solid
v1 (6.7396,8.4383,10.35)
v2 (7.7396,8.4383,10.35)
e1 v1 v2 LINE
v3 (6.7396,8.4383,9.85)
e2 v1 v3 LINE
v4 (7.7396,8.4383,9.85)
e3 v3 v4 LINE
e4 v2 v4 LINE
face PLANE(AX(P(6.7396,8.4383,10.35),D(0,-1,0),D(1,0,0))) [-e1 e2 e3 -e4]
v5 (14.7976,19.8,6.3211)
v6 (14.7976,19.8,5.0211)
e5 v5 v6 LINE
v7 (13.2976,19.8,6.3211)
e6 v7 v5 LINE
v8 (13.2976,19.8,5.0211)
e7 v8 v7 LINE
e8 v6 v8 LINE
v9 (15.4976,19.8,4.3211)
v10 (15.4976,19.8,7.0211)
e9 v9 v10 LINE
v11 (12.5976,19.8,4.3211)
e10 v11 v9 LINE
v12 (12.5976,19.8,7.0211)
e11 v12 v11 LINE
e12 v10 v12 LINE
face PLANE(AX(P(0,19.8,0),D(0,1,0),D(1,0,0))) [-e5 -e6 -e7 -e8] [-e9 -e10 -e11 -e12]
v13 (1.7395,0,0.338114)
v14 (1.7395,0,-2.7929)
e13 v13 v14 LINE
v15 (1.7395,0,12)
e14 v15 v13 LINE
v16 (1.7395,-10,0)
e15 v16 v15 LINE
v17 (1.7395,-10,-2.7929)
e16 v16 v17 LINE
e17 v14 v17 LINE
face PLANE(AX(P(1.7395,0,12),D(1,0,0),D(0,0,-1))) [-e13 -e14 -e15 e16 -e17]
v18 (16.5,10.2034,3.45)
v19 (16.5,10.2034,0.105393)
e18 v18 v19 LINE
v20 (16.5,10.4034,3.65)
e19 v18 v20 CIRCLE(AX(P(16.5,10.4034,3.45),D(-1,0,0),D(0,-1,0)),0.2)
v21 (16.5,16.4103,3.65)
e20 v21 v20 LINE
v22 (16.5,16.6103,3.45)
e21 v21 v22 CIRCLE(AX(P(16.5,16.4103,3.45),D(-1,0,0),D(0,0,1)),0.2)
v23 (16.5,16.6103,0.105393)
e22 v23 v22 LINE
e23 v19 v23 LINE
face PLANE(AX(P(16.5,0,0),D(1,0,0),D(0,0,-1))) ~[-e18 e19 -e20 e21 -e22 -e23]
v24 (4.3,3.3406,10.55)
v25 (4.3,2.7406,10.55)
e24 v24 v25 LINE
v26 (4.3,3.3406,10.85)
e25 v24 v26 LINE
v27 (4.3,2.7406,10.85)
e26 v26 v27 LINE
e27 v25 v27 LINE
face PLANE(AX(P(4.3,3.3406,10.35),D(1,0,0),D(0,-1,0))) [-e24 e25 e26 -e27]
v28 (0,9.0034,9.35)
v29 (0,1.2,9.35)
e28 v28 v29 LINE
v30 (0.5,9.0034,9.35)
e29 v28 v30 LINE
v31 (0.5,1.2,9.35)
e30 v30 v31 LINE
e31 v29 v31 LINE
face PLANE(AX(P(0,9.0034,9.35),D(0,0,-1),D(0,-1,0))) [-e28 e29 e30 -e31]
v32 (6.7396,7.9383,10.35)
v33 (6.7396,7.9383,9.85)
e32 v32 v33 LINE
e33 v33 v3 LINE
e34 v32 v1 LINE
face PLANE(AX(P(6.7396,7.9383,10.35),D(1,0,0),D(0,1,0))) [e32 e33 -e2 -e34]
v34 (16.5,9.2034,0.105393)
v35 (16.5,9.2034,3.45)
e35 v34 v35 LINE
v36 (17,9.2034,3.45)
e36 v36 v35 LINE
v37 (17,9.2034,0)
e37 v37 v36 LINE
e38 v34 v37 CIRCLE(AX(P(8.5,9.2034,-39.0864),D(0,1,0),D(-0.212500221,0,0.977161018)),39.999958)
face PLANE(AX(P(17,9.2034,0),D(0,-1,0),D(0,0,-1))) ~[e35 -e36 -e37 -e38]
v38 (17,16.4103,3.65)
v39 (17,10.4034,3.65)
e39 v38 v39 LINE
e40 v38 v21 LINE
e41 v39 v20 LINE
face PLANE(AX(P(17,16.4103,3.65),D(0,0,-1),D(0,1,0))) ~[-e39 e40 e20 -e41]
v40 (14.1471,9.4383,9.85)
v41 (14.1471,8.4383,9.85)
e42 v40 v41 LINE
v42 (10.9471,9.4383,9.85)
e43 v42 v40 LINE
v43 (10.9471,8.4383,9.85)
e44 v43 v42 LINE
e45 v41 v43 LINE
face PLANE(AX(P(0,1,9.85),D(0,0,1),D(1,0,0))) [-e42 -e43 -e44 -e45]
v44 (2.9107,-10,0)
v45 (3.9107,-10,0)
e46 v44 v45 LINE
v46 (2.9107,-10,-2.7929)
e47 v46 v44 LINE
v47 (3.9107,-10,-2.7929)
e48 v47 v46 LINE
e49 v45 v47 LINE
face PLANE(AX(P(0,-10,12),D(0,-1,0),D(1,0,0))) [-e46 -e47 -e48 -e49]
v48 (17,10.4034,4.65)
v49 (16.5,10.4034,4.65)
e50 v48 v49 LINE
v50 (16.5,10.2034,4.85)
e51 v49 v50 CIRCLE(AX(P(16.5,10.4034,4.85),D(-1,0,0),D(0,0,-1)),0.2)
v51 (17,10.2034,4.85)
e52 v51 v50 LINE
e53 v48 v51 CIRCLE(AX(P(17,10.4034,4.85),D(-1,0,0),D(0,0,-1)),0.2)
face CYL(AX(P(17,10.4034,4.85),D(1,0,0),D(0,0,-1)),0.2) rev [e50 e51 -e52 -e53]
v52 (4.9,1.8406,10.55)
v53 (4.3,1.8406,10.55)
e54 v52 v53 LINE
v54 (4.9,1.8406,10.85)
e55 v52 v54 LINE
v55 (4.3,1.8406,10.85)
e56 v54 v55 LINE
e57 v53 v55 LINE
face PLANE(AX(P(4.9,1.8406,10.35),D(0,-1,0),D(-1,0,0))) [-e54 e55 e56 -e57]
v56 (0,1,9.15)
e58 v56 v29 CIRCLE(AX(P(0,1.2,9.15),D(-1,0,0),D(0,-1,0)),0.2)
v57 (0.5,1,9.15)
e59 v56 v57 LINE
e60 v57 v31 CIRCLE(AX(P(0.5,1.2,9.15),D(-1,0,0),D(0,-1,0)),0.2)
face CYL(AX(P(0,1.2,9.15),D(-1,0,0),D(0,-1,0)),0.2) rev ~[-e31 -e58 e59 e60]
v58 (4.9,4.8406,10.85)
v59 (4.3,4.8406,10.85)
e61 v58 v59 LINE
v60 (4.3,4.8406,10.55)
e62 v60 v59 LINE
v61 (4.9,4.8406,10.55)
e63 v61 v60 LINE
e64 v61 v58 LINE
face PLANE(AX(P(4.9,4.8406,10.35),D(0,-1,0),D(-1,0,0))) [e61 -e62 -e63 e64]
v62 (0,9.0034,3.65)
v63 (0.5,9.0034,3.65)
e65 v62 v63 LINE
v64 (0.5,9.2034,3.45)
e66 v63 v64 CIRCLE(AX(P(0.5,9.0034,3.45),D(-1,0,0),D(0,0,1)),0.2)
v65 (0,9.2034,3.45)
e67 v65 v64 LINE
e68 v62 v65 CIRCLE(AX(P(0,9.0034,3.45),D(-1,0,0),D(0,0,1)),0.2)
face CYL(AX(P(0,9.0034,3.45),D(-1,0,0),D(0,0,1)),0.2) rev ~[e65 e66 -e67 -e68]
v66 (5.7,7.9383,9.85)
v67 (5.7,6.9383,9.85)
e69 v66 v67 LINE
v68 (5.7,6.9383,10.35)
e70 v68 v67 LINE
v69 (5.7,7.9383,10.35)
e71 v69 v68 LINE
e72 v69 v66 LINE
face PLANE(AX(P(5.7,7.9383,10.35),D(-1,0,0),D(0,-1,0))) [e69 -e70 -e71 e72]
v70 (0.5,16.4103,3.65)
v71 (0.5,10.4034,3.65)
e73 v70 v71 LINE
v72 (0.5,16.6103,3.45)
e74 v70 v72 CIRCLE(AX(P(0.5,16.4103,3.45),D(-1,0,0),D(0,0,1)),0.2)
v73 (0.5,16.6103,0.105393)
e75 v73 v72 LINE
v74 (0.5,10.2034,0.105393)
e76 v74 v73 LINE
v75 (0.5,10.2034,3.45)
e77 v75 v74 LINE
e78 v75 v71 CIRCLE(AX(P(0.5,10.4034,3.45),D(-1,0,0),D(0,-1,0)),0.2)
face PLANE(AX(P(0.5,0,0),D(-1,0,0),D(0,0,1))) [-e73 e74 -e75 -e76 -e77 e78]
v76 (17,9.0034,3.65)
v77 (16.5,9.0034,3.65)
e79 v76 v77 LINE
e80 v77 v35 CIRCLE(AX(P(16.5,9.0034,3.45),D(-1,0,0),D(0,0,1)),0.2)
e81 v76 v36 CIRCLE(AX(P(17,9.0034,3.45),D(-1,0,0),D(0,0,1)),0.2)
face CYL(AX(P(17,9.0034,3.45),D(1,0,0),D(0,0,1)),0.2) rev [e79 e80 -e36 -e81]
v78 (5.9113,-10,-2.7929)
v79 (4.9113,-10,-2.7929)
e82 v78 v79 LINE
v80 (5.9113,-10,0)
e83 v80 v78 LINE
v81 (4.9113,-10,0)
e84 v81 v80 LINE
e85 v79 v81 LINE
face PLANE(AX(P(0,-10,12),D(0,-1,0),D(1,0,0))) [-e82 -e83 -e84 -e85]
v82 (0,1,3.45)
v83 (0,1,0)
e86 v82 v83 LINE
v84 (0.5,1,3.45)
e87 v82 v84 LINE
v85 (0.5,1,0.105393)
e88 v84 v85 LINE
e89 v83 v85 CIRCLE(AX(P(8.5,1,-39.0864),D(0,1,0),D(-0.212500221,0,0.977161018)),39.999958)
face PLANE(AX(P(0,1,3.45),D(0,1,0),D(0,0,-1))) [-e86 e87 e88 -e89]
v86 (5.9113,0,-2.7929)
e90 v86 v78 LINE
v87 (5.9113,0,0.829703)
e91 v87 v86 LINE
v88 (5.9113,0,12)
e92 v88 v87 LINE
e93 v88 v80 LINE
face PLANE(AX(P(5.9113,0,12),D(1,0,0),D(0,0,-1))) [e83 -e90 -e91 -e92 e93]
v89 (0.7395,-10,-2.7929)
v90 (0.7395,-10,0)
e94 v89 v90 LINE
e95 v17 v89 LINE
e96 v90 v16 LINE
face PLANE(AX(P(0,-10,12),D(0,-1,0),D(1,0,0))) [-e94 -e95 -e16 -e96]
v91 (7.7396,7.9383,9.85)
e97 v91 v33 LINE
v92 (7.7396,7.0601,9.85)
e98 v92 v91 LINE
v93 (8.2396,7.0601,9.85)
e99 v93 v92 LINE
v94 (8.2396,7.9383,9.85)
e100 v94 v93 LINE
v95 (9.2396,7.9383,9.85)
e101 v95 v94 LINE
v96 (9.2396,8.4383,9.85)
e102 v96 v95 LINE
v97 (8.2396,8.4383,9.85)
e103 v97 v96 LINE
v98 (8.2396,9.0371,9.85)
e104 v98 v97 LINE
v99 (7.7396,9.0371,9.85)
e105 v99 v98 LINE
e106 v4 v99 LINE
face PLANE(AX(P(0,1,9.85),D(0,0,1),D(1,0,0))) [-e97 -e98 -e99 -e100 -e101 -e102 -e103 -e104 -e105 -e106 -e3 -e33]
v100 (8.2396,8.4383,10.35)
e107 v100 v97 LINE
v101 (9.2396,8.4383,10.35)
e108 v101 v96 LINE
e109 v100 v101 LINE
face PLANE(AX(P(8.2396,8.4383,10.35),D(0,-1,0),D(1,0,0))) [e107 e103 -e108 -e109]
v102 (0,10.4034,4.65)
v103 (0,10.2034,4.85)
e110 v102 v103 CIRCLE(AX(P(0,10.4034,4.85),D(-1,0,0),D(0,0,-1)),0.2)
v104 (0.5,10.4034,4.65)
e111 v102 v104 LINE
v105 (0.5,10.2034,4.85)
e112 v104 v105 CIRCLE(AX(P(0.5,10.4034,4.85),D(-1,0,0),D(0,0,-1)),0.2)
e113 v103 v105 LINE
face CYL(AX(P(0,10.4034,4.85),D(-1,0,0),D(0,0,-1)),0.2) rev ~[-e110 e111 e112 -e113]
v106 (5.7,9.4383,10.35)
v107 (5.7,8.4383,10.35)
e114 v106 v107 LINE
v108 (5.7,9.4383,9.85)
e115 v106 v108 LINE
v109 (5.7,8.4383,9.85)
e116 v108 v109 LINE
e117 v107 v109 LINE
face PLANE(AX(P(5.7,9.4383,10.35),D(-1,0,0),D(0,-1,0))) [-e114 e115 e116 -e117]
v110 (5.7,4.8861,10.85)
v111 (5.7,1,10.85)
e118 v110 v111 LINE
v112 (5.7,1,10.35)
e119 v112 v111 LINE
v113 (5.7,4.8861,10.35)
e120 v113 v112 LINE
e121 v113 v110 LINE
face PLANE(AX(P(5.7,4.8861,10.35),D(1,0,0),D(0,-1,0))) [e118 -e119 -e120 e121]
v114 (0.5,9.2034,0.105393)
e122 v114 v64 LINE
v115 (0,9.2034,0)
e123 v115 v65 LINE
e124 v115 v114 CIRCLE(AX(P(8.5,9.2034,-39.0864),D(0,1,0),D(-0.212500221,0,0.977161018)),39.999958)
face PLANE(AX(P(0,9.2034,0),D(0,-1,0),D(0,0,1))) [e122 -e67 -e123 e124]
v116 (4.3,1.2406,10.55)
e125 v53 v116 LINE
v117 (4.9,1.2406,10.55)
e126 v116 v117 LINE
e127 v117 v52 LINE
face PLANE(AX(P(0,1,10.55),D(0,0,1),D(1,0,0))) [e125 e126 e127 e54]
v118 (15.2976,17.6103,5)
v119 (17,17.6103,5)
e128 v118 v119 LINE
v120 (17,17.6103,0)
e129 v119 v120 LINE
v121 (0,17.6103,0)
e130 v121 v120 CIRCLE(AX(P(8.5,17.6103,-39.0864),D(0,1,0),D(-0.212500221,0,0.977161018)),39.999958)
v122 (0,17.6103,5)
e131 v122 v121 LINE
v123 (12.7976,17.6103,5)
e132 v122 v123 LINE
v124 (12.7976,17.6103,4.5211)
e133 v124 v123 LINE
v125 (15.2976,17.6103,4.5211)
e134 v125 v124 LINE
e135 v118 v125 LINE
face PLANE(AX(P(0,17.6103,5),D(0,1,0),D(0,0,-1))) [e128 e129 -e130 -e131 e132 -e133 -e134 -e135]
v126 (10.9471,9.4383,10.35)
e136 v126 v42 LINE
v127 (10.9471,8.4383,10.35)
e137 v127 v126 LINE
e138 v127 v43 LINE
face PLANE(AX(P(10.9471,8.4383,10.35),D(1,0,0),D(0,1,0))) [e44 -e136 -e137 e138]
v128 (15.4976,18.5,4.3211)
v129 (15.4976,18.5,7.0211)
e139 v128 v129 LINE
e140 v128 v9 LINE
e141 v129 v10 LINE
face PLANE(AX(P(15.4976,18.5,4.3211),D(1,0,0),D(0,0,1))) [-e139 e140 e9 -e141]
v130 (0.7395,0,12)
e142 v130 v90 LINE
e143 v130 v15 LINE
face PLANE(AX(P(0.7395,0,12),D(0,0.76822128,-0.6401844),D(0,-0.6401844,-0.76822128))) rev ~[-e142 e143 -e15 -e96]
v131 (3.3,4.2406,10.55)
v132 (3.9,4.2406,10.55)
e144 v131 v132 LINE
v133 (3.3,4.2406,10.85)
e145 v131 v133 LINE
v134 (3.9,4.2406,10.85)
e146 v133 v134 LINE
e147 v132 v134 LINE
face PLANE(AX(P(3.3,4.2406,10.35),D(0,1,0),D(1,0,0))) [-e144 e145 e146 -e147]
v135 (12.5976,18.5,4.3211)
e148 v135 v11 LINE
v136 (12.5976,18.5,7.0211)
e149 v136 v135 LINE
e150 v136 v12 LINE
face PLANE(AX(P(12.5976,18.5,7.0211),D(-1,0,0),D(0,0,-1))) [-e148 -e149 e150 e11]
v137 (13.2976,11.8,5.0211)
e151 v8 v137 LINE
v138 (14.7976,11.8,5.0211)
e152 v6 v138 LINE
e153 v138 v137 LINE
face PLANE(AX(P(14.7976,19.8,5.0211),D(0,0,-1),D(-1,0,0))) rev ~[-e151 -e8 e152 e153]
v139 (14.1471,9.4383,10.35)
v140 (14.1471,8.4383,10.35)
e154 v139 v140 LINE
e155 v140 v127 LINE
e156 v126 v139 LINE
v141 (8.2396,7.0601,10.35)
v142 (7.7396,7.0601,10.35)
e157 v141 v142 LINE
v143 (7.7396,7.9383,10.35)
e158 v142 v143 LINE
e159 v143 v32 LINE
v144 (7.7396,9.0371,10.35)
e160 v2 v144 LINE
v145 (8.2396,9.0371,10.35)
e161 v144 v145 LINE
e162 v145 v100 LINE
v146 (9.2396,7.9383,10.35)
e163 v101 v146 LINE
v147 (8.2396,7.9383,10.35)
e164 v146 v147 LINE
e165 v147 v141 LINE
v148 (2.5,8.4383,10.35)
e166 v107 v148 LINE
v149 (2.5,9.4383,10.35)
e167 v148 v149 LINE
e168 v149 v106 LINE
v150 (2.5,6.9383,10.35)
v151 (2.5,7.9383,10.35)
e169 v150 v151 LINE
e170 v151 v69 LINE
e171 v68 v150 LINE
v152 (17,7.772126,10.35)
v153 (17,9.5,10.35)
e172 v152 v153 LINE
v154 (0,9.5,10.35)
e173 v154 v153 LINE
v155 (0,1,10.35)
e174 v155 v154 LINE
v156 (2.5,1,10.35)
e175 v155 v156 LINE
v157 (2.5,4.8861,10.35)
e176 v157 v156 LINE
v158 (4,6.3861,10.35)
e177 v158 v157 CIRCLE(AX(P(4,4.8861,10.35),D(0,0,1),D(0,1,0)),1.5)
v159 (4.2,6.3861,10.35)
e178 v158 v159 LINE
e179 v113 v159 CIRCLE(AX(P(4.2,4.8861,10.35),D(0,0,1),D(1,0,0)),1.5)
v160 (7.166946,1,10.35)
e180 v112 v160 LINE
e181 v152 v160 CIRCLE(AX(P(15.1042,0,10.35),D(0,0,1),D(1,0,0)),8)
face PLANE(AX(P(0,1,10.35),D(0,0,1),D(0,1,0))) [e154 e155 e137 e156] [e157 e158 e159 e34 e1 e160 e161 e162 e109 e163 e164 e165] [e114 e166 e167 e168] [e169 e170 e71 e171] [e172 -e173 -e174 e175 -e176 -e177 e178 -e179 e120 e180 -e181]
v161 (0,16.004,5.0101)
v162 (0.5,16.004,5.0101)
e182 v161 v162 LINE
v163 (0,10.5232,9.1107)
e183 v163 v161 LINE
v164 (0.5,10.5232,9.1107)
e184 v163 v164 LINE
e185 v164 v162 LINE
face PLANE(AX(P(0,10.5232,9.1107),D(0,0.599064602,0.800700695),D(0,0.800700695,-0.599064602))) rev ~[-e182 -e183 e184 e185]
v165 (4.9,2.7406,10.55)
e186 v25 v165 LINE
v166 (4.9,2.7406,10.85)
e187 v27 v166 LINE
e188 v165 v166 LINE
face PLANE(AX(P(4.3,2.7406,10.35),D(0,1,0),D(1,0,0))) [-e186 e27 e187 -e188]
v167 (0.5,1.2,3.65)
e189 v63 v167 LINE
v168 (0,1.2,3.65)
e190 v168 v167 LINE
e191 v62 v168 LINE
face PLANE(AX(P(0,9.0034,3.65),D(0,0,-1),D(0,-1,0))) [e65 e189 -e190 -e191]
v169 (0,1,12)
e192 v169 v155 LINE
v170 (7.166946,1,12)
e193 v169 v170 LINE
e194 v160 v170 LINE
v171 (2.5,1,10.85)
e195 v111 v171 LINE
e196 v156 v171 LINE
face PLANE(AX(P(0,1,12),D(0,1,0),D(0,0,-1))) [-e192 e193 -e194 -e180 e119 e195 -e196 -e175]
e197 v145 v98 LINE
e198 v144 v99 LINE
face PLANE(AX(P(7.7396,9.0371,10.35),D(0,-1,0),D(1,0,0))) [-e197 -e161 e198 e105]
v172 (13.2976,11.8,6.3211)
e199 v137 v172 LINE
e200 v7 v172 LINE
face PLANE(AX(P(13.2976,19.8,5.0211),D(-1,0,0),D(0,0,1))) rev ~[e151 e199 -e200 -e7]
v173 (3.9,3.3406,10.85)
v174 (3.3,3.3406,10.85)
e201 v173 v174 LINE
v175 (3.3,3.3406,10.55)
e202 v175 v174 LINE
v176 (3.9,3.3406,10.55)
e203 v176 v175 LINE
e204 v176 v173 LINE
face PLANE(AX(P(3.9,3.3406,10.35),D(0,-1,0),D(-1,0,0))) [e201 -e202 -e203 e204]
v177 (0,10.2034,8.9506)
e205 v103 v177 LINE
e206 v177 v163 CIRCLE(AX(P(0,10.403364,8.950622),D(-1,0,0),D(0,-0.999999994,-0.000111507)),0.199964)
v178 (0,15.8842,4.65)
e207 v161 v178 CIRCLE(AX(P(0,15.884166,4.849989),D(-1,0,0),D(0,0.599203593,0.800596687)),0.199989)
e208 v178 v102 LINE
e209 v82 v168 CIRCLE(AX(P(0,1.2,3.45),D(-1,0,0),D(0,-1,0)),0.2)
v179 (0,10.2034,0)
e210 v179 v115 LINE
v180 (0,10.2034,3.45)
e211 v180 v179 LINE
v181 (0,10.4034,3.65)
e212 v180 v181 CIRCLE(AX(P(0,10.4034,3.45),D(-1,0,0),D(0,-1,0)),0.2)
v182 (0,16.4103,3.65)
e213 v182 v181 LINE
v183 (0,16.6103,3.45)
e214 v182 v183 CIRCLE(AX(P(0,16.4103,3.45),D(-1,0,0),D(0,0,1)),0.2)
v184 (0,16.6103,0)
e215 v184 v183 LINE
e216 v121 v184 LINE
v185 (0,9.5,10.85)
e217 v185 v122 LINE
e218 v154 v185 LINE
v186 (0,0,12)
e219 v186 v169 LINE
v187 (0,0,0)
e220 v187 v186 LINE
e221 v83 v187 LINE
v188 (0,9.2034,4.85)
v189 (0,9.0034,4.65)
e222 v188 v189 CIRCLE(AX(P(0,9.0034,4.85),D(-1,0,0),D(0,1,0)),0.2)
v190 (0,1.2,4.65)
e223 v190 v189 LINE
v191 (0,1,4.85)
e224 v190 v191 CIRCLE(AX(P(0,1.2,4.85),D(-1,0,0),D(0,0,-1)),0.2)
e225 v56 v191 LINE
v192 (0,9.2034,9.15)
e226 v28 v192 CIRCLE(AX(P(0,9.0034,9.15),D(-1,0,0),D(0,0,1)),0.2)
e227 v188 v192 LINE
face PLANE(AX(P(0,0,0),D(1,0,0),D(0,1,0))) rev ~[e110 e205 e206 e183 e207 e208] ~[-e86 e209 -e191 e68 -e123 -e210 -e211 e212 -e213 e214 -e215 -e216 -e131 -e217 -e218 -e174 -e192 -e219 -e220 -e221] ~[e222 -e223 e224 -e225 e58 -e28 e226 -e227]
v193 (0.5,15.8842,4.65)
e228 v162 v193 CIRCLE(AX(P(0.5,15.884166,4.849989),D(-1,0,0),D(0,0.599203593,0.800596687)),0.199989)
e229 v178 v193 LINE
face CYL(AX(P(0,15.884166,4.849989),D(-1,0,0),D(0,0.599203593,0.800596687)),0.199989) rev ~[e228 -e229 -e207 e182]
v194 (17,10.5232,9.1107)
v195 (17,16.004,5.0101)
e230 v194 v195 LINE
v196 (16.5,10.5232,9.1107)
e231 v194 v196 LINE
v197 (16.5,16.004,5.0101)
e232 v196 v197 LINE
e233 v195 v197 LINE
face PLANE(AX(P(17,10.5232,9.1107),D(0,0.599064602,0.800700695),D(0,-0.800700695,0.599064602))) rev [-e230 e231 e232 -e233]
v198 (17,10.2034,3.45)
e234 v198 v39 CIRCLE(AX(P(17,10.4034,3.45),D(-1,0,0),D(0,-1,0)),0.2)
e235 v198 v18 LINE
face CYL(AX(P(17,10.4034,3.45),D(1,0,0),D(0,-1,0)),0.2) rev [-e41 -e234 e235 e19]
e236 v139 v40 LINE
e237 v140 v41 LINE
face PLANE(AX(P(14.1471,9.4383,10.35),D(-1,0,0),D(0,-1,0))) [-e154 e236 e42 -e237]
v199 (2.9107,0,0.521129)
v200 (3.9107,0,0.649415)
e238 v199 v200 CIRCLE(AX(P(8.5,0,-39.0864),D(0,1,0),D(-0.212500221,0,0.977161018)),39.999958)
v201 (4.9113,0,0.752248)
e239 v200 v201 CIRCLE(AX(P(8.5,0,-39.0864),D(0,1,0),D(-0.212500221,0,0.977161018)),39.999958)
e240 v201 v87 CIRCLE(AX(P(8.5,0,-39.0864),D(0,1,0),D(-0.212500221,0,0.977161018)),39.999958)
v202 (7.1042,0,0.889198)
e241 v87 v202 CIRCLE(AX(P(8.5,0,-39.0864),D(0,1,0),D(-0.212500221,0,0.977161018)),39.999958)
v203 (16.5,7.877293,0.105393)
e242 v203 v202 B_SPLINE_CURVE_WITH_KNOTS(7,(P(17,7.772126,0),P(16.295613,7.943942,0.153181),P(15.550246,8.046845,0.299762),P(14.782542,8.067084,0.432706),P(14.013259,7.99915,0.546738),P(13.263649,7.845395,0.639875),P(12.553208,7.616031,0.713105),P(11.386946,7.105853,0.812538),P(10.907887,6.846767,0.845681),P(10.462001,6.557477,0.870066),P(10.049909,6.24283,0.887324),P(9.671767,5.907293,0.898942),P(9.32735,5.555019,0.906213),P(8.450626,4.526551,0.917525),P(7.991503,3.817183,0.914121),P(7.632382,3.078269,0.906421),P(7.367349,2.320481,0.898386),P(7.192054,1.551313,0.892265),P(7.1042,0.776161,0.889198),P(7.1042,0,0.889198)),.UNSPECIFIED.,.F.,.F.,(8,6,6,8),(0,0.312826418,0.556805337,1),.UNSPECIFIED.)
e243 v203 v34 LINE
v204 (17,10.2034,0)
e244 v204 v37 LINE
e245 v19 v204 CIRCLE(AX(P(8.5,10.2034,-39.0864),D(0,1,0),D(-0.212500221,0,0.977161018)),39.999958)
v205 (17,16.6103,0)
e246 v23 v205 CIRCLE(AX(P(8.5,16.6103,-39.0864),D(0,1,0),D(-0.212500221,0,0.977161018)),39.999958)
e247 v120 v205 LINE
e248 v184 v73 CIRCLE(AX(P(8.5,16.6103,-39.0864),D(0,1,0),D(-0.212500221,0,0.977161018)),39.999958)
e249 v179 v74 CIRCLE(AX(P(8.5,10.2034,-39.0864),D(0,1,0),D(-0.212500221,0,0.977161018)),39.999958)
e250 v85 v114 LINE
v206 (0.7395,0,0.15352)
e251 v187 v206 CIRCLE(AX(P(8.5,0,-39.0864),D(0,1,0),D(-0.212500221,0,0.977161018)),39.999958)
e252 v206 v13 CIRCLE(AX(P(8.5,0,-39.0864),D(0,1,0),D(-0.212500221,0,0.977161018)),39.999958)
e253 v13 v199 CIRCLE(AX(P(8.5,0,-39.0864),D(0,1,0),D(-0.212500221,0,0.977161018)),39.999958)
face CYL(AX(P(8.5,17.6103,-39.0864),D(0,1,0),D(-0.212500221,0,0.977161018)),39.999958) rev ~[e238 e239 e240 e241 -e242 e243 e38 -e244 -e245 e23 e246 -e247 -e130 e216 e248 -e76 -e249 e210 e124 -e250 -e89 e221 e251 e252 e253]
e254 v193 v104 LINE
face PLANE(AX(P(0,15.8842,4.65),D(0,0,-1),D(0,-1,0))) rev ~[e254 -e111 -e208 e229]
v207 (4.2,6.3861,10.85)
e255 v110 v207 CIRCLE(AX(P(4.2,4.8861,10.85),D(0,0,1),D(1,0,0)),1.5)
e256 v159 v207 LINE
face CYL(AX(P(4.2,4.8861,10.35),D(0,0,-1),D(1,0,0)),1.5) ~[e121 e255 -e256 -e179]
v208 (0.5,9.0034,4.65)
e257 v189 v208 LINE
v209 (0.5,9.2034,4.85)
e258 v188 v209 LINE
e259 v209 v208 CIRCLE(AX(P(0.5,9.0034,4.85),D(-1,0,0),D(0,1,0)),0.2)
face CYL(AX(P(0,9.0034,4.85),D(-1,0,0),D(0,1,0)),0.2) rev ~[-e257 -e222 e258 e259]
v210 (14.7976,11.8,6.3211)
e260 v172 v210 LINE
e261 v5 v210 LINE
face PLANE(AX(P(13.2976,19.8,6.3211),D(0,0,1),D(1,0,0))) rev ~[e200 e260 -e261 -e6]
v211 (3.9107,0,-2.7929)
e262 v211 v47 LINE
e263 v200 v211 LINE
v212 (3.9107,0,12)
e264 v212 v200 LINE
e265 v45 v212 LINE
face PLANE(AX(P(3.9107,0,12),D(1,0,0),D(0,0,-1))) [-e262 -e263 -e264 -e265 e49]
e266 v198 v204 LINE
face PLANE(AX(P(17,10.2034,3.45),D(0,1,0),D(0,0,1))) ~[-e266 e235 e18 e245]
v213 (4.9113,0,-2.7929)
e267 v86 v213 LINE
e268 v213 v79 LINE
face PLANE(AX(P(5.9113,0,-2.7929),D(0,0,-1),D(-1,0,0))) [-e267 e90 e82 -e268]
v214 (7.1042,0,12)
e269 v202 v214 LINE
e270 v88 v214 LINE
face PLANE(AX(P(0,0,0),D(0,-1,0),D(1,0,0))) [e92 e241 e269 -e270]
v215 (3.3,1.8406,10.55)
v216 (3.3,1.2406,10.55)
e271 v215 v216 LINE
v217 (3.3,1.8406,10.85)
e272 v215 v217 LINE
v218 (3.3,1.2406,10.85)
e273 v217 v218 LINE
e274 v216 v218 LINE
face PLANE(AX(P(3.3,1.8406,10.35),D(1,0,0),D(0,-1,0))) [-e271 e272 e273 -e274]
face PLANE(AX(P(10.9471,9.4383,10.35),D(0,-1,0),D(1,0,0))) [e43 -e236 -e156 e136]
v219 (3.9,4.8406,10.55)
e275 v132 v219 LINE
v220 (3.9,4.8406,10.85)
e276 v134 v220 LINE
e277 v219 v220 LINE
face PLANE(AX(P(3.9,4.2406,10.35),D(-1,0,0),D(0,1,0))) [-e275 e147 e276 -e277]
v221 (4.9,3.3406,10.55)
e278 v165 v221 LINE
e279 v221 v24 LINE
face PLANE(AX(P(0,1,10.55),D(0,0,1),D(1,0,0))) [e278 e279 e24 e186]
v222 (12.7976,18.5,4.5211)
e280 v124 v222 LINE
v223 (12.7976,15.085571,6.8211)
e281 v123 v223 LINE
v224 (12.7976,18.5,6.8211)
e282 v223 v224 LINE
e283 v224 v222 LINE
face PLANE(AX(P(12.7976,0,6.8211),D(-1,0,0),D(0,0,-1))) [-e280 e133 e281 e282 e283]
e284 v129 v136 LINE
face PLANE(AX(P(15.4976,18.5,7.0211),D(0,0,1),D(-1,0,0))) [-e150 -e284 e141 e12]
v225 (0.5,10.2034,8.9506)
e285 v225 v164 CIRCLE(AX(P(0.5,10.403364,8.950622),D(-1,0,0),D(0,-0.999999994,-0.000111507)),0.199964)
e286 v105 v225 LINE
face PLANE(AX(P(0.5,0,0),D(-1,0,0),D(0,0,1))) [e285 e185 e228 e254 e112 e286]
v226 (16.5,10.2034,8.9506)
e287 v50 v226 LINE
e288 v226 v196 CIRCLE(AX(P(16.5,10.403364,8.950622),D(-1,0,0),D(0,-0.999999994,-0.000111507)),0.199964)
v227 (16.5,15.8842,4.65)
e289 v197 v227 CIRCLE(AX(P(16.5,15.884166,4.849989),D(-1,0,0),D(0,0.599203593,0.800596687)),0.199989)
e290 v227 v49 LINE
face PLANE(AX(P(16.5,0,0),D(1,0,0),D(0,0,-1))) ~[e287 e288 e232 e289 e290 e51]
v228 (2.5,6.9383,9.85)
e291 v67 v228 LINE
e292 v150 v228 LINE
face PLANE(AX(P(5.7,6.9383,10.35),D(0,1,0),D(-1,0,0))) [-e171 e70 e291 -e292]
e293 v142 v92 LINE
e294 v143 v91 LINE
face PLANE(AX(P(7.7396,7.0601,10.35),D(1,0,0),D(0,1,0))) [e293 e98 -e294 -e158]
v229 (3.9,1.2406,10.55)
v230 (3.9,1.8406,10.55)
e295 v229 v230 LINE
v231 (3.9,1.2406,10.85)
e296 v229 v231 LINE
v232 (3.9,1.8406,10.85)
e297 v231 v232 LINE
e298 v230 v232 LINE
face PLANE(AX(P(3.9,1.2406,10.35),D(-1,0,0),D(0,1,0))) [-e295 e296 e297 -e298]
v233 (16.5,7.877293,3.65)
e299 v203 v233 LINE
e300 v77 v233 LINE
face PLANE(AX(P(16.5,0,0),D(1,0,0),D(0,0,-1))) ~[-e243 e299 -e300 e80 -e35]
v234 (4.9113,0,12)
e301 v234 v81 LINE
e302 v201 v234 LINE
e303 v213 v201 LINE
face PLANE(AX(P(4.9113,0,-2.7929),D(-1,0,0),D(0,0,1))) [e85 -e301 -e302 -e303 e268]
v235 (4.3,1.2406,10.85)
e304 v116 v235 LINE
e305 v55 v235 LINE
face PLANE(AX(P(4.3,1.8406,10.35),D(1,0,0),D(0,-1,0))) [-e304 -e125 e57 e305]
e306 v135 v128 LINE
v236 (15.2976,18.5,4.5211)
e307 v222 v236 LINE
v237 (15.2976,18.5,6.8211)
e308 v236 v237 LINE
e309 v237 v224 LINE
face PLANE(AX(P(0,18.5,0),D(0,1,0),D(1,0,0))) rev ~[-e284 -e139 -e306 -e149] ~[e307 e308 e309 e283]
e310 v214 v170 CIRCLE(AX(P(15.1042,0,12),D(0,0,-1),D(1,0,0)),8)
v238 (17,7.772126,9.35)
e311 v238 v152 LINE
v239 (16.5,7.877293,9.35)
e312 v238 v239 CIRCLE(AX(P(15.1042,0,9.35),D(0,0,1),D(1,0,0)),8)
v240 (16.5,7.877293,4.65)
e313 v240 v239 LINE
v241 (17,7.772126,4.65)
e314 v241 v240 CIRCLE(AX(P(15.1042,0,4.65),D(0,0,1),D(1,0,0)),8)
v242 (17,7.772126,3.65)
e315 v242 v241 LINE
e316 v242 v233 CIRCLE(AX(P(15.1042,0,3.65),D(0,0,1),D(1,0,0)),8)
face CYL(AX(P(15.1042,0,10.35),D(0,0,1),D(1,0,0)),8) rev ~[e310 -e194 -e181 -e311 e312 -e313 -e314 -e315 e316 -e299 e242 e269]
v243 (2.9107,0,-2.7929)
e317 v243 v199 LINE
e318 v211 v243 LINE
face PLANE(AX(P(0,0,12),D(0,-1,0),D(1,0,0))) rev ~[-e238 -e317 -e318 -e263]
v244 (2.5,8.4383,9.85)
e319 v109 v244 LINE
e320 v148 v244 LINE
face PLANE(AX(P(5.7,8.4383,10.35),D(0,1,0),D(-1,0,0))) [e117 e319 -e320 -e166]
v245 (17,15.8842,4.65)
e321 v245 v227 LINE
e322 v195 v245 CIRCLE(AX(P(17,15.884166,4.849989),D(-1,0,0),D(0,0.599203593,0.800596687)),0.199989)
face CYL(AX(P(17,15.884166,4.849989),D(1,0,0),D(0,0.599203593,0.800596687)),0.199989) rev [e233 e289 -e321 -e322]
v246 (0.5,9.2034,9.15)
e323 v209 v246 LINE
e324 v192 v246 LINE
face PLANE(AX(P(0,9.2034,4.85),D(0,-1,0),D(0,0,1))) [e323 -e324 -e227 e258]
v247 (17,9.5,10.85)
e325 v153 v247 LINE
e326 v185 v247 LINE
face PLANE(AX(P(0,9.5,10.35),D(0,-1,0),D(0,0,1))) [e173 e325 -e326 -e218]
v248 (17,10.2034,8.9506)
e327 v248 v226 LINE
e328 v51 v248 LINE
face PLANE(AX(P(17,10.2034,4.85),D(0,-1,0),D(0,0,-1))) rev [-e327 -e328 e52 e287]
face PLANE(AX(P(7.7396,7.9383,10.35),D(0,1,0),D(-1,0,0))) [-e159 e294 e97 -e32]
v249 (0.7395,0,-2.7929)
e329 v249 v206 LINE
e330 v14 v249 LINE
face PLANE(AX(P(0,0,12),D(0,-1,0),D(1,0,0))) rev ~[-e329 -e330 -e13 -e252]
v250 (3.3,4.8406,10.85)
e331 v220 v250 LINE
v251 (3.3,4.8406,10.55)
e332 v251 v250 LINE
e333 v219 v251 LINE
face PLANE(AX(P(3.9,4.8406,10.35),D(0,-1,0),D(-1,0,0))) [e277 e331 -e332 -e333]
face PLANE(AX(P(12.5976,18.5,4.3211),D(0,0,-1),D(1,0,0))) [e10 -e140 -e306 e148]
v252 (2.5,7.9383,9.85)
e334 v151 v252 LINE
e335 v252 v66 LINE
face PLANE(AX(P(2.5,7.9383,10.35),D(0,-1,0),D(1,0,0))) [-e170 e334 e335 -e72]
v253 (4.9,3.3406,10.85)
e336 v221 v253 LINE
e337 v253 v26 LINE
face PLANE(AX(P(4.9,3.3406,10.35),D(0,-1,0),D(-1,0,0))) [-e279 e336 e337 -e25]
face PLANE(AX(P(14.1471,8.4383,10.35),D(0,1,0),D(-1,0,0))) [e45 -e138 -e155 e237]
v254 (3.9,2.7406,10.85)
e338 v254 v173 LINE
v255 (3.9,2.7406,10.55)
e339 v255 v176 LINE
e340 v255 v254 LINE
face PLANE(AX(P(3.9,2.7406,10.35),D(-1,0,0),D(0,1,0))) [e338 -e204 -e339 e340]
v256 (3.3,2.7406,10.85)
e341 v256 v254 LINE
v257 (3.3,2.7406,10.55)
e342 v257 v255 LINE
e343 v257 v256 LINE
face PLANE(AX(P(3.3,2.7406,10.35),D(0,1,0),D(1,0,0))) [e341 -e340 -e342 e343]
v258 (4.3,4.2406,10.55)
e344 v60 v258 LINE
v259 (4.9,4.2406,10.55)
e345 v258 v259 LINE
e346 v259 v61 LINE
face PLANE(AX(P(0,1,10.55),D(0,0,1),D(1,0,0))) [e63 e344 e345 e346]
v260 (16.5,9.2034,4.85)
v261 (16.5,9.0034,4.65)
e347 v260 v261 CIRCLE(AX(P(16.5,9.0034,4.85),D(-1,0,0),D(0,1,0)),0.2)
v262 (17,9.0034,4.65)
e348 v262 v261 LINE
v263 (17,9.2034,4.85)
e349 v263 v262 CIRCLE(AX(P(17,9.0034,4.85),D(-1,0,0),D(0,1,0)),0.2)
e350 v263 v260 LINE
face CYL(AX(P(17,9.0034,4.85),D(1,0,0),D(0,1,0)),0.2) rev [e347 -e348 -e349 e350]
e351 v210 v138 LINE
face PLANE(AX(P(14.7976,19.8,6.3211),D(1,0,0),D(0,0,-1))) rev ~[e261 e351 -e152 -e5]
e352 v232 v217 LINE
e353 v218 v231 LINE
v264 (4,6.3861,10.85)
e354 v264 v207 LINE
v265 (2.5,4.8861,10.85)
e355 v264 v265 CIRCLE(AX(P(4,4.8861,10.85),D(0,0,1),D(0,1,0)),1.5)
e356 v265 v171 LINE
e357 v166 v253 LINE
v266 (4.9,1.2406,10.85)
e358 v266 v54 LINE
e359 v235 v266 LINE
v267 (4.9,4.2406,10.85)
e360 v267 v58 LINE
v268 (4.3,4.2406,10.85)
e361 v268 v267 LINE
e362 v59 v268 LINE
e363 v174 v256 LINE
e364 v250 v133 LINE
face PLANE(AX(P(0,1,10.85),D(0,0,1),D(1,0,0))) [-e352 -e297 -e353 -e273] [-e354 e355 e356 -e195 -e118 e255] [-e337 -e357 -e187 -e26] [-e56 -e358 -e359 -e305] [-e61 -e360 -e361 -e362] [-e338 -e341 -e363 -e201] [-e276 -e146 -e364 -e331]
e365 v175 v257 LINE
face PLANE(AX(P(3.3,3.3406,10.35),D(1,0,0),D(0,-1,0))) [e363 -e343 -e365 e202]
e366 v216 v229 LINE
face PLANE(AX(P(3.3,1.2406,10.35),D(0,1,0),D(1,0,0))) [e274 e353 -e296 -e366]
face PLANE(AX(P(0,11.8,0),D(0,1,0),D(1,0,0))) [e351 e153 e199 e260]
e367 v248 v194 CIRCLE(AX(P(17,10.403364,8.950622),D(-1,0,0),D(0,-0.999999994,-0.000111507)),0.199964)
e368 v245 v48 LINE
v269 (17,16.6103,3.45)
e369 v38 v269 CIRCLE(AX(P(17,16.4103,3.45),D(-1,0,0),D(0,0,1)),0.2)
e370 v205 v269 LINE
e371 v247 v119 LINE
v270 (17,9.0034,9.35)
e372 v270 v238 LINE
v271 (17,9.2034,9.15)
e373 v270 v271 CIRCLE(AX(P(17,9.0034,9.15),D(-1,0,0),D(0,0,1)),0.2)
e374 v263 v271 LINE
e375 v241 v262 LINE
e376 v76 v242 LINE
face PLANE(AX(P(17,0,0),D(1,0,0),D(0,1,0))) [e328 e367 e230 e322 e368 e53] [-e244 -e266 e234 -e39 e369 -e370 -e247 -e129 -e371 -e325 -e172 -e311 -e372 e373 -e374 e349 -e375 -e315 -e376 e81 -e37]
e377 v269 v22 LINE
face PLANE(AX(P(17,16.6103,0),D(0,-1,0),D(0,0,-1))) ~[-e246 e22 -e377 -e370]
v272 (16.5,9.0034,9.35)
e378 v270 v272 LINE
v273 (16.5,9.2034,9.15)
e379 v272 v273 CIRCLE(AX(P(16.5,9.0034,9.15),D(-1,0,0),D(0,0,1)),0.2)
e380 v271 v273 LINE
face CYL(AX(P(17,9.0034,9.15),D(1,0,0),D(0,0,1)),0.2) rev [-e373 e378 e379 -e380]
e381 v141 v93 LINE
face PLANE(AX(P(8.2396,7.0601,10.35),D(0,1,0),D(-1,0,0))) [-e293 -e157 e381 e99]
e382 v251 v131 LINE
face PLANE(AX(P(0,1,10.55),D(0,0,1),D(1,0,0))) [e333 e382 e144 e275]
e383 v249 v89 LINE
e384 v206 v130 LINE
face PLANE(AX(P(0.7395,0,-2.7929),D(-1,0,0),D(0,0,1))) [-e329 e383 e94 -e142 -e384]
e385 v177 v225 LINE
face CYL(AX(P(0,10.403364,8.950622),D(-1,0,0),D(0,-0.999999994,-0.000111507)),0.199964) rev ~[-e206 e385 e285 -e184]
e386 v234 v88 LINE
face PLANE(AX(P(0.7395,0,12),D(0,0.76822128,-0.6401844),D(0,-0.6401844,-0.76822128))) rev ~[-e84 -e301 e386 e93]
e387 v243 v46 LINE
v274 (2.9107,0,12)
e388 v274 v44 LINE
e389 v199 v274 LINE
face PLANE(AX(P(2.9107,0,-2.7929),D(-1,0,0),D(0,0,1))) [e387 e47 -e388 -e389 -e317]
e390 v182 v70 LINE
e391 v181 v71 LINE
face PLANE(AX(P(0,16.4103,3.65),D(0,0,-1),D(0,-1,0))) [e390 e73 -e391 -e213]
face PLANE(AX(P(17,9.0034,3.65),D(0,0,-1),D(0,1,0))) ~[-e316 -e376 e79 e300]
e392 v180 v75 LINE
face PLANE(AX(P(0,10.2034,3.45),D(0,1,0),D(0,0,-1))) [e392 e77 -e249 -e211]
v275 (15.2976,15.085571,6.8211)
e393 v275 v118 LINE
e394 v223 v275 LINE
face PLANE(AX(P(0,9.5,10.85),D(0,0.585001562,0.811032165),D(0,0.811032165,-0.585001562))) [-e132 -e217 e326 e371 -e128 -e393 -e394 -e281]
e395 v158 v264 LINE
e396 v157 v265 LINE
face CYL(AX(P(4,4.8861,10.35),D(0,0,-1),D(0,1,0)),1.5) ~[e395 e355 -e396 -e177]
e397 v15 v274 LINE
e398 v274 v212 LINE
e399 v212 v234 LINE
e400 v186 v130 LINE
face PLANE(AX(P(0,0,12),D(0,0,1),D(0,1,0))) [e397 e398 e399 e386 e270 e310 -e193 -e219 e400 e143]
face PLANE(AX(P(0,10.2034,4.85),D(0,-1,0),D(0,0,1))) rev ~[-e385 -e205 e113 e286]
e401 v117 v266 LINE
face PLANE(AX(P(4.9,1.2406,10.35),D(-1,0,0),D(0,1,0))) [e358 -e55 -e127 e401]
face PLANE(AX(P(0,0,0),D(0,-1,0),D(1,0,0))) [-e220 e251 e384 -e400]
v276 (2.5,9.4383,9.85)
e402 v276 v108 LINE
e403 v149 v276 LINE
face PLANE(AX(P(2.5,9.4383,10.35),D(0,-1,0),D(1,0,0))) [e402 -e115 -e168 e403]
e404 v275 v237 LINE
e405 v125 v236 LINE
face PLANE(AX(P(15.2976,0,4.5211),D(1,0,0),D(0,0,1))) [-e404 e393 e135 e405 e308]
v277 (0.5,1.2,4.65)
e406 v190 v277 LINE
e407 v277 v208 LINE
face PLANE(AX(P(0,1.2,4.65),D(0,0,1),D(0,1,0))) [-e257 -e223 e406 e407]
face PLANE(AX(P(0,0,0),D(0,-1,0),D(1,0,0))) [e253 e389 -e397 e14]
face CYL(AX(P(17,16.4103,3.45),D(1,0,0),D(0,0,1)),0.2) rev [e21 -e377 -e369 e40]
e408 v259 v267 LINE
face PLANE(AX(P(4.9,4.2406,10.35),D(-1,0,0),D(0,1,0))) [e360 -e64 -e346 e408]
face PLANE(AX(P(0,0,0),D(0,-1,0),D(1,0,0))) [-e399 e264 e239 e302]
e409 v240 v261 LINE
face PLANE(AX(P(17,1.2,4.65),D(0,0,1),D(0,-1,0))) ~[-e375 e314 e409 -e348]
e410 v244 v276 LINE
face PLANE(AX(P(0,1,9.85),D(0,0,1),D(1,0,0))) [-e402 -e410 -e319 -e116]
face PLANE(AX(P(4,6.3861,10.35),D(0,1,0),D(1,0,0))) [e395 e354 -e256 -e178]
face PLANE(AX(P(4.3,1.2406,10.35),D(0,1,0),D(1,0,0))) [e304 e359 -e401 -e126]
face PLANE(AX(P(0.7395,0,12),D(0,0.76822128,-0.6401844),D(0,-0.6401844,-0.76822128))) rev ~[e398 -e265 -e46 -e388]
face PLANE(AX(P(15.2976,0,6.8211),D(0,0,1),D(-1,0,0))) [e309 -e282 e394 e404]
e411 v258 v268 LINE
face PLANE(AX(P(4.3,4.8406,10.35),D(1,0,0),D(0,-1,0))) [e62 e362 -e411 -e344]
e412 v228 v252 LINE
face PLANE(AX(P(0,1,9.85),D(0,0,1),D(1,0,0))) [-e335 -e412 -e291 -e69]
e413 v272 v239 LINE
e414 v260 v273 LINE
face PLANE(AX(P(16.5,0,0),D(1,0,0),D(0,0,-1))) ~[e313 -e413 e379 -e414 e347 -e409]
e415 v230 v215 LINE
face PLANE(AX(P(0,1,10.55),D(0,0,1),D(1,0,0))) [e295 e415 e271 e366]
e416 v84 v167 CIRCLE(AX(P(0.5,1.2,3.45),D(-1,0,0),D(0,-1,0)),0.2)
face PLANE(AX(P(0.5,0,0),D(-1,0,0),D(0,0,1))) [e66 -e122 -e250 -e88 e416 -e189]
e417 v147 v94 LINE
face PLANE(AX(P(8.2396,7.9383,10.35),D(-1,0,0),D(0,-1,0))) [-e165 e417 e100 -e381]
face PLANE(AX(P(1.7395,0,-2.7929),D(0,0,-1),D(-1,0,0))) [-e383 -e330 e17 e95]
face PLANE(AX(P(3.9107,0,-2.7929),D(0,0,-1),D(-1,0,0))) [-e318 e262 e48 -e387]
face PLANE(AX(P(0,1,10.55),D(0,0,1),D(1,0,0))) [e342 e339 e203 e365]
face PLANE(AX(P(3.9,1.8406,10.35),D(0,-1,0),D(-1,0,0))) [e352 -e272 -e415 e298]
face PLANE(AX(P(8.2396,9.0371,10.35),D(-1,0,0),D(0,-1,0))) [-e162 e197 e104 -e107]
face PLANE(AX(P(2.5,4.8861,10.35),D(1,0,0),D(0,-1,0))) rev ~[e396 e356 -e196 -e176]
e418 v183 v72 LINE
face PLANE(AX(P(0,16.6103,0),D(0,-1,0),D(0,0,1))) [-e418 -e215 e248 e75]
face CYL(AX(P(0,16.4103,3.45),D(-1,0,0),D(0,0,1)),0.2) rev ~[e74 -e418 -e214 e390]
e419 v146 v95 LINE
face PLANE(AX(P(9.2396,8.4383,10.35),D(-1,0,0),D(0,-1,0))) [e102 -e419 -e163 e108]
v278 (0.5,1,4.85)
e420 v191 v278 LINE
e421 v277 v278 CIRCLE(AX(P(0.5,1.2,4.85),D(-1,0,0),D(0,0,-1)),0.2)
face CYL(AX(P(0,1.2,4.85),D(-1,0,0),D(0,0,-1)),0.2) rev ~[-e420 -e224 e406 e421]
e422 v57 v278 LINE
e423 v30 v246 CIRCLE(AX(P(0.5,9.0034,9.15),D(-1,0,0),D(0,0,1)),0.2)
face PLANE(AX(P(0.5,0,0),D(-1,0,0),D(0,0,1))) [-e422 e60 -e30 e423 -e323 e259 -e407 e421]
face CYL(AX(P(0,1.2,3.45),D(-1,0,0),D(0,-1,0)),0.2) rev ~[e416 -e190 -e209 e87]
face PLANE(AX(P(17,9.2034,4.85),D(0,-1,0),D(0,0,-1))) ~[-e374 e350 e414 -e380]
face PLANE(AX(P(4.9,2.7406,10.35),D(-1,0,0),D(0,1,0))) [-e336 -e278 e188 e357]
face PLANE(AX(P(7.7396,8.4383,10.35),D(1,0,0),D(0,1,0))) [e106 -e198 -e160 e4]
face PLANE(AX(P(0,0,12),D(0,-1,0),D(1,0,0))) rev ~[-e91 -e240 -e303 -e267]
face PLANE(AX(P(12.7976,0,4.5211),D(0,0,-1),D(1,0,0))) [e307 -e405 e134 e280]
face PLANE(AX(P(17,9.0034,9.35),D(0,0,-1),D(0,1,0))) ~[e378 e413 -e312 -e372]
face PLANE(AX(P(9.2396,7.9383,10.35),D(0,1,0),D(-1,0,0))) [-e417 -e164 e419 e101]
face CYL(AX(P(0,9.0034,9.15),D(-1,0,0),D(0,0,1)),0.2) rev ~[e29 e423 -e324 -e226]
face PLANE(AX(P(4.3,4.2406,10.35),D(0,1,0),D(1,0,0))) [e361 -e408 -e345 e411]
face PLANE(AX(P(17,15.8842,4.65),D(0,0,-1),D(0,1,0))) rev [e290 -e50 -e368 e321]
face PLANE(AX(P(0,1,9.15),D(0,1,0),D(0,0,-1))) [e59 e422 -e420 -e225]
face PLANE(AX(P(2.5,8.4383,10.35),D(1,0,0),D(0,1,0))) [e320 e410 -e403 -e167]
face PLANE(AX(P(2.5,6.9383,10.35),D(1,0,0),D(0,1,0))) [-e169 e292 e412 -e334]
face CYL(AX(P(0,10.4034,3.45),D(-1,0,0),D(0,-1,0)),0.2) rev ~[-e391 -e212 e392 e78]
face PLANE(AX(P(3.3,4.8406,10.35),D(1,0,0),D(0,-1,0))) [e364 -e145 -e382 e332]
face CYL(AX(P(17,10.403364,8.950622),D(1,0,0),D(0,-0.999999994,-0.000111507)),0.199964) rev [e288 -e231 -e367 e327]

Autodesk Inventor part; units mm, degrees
ref_plane "YZ Plane" through (0, 0, 0) normal (1, 0, 0) x (0, 1, 0)
ref_plane "XZ Plane" through (0, 0, 0) normal (0, 1, 0) x (-1, 0, 0)
sketch "草圖1" plane through (0, 0, 0) normal (1, 0, 0) x (0, 1, 0)
  line L0 (0, 0) -> (0, 12)
  line L1 (0, 12) -> (1, 12)
  line L2 (1, 12) -> (1, 10.35)
  line L3 (1, 10.35) -> (9.5, 10.35)
  line L4 (9.5, 10.35) -> (9.5, 10.85)
  line L5 (9.5, 10.85) -> (17.6103, 5)
  line L6 (17.6103, 5) -> (17.6103, 0)
  line L7 (17.6103, 0) -> (0, 0)
  dimension "d0" = 12
  dimension "d1" = 1
  dimension "d2" = 1.65
  dimension "d3" = 8.5
  dimension "d4" = 0.5
  dimension "d5" = 10
  dimension "d6" = 5
extrude "擠出1" add sketch "草圖1" along normal blind 17
sketch "草圖2" plane through (0, 0, 0) normal (-1, 0, 0) x (0, 0, 1)
  line L0 (0, 16.6103) -> (3.45, 16.6103)
  line L1 (3.65, 16.4103) -> (3.65, 10.4034)
  line L2 (3.45, 10.2034) -> (0, 10.2034)
  line L3 (0, 0) -> (0, 17.6103) projected
  line L4 (0, 9.2034) -> (3.45, 9.2034)
  line L5 (10.35, 1) -> (12, 1) projected
  line L6 (3.65, 9.0034) -> (3.65, 1.2)
  line L7 (4.65, 1.2) -> (4.65, 9.0034)
  line L8 (4.85, 9.2034) -> (9.15, 9.2034)
  line L9 (9.35, 9.0034) -> (9.35, 1.2)
  line L10 (4.65, 15.8842) -> (4.65, 10.4034)
  line L11 (4.85, 10.2034) -> (8.9506, 10.2034)
  line L12 (9.1107, 10.5232) -> (5.0101, 16.004)
  line L13 (9.15, 1) -> (4.85, 1)
  line L14 (3.45, 1) -> (0, 1)
  line L15 (0, 17.6103) -> (5, 17.6103) projected
  line L16 (5, 17.6103) -> (10.85, 9.5) projected
  line L17 (12, 0) -> (0, 0) projected
  line L18 (0, 16.6103) -> (0, 10.2034)
  line L19 (0, 9.2034) -> (0, 1)
  line L20 (10.35, 9.5) -> (10.35, 1) projected
  arc A0 (3.65, 16.4103) -> (3.45, 16.6103) centre (3.45, 16.4103) ccw
  arc A1 (5.0101, 16.004) -> (4.65, 15.8842) centre (4.85, 15.8842) ccw
  arc A2 (8.9506, 10.2034) -> (9.1107, 10.5232) centre (8.9506, 10.4034) ccw
  arc A3 (4.65, 10.4034) -> (4.85, 10.2034) centre (4.85, 10.4034) ccw
  arc A4 (3.45, 10.2034) -> (3.65, 10.4034) centre (3.45, 10.4034) ccw
  arc A5 (3.65, 9.0034) -> (3.45, 9.2034) centre (3.45, 9.0034) ccw
  arc A6 (3.45, 1) -> (3.65, 1.2) centre (3.45, 1.2) ccw
  arc A7 (9.15, 1) -> (9.35, 1.2) centre (9.15, 1.2) ccw
  arc A8 (9.35, 9.0034) -> (9.15, 9.2034) centre (9.15, 9.0034) ccw
  arc A9 (4.85, 9.2034) -> (4.65, 9.0034) centre (4.85, 9.0034) ccw
  arc A10 (4.65, 1.2) -> (4.85, 1) centre (4.85, 1.2) ccw
  point P0 (4.65, 16.4854)
  point P1 (4.65, 10.2034)
  point P2 (9.35, 10.2034)
  dimension "d10" = 1
  dimension "d11" = 1
  dimension "d12" = 1
  dimension "d13" = 1
  dimension "d14" = 1
  dimension "d15" = 1
  dimension "d16" = 1
  dimension "d17" = 1
  dimension "d18" = 1
  dimension "d19" = 4.7
  dimension "d20" = 0.2
extrude "擠出2" cut sketch "草圖2" against normal blind 0.5
ref_plane "工作平面1" through (8.5, 0, 0) normal (-1, 0, 0) x (0, 0, 1)
mirror "鏡射1" about plane through (8.5, 0, 0) normal (-1, 0, 0) of "擠出2"
sketch "草圖3" plane through (0, 0, 0) normal (0, -1, 0) x (1, 0, 0)
  line L0 (12.7976, 4.5211) -> (15.2976, 4.5211)
  line L1 (15.2976, 4.5211) -> (15.2976, 6.8211)
  line L2 (15.2976, 6.8211) -> (12.7976, 6.8211)
  line L3 (12.7976, 6.8211) -> (12.7976, 4.5211)
  point P0 (0, 0)
  dimension "d23" = 2.5
  dimension "d24" = 2.3
extrude "擠出3" add sketch "草圖3" against normal blind 18.5
sketch "草圖4" plane through (0, 18.5, 0) normal (0, 1, 0) x (1, 0, 0)
  line L0 (12.5976, -4.3211) -> (15.4976, -4.3211)
  line L1 (15.4976, -4.3211) -> (15.4976, -7.0211)
  line L2 (15.4976, -7.0211) -> (12.5976, -7.0211)
  line L3 (12.5976, -7.0211) -> (12.5976, -4.3211)
  line L4 (15.2976, -4.5211) -> (12.7976, -4.5211) projected
  line L5 (15.2976, -6.8211) -> (15.2976, -4.5211) projected
  line L6 (12.7976, -4.5211) -> (12.7976, -6.8211) projected
  line L7 (12.7976, -6.8211) -> (15.2976, -6.8211) projected
  point P0 (0, 0)
  point P1 (15.2976, -5.4402)
  point P2 (12.7976, -5.4402)
  dimension "d27" = 0.2
  dimension "d28" = 0.2
  dimension "d29" = 0.2
  dimension "d30" = 0.2
extrude "擠出4" add sketch "草圖4" along normal blind 1.3 contours L0 L1 L2 L3 | L5 L7 L6 L4
sketch "草圖5" plane through (0, 19.8, 0) normal (0, 1, 0) x (1, 0, 0)
  line L0 (14.7976, -5.0211) -> (13.2976, -5.0211)
  line L1 (13.2976, -5.0211) -> (13.2976, -6.3211)
  line L2 (13.2976, -6.3211) -> (14.7976, -6.3211)
  line L3 (14.7976, -6.3211) -> (14.7976, -5.0211)
  line L4 (15.4976, -7.0211) -> (15.4976, -4.3211) projected
  line L5 (12.5976, -7.0211) -> (15.4976, -7.0211) projected
  line L6 (12.5976, -4.3211) -> (12.5976, -7.0211) projected
  line L7 (15.4976, -4.3211) -> (12.5976, -4.3211) projected
  point P0 (0, 0)
  dimension "d33" = 0.7
  dimension "d34" = 0.7
  dimension "d35" = 0.7
  dimension "d36" = 0.7
extrude "擠出5" cut sketch "草圖5" against normal blind 8 contours L3 L2 L1 L0
sketch "草圖6" plane through (0, 1, 10.35) normal (0, 0, 1) x (1, 0, 0)
  line L0 (2.5, 8.4383) -> (5.7, 8.4383)
  line L1 (5.7, 8.4383) -> (5.7, 7.4383)
  line L2 (5.7, 7.4383) -> (2.5, 7.4383)
  line L3 (2.5, 7.4383) -> (2.5, 8.4383)
  line L4 (0, 8.5) -> (0, 0) projected
  line L5 (2.5, 6.9383) -> (5.7, 6.9383)
  line L6 (5.7, 6.9383) -> (5.7, 5.9383)
  line L7 (5.7, 5.9383) -> (2.5, 5.9383)
  line L8 (2.5, 5.9383) -> (2.5, 6.9383)
  line L9 (9.2396, 7.4383) -> (9.2396, 6.9383)
  line L10 (6.7396, 6.9383) -> (6.7396, 7.4383)
  line L11 (7.7396, 8.0371) -> (8.2396, 8.0371)
  line L12 (8.2396, 6.0601) -> (7.7396, 6.0601)
  line L13 (6.7396, 7.4383) -> (7.7396, 7.4383)
  line L14 (8.2396, 7.4383) -> (9.2396, 7.4383)
  line L15 (7.7396, 6.0601) -> (7.7396, 6.9383)
  line L16 (7.7396, 7.4383) -> (7.7396, 8.0371)
  line L17 (8.2396, 8.0371) -> (8.2396, 7.4383)
  line L18 (8.2396, 6.9383) -> (8.2396, 6.0601)
  line L19 (9.2396, 6.9383) -> (8.2396, 6.9383)
  line L20 (7.7396, 6.9383) -> (6.7396, 6.9383)
  line L21 (10.9471, 8.4383) -> (14.1471, 8.4383)
  line L22 (14.1471, 8.4383) -> (14.1471, 7.4383)
  line L23 (14.1471, 7.4383) -> (10.9471, 7.4383)
  line L24 (10.9471, 7.4383) -> (10.9471, 8.4383)
  point P0 (0, -1)
  dimension "d39" = 3.2
  dimension "d40" = 1
  dimension "d41" = 2.5
  dimension "d42" = 3.2
  dimension "d43" = 1
  dimension "d44" = 0.5
  dimension "d45" = 2.5
  dimension "d46" = 2.5
  dimension "d49" = 3.2
  dimension "d50" = 1
extrude "擠出6" cut sketch "草圖6" against normal blind 0.5
sketch "草圖7" plane through (0, 1, 10.35) normal (0, 0, 1) x (1, 0, 0)
  line L0 (2.5, 5.9383) -> (2.5, 6.9383) projected
  line L1 (2.5, 3.8861) -> (2.5, 0)
  line L2 (0, 0) -> (17, 0) projected
  line L3 (5.7, 6.9383) -> (5.7, 5.9383) projected
  line L4 (5.7, 3.8861) -> (5.7, 0)
  line L5 (4, 5.3861) -> (4.2, 5.3861)
  arc A0 (4, 5.3861) -> (2.5, 3.8861) centre (4, 3.8861) ccw
  arc A1 (5.7, 3.8861) -> (4.2, 5.3861) centre (4.2, 3.8861) ccw
  line L6 (4.1, 4.2144) -> (4.1, 0)
  line L7 (4.3, 0.2406) -> (4.9, 0.2406)
  line L8 (4.9, 0.2406) -> (4.9, 0.8406)
  line L9 (4.9, 0.8406) -> (4.3, 0.8406)
  line L10 (4.3, 0.8406) -> (4.3, 0.2406)
  line L11 (4.9, 2.3406) -> (4.3, 2.3406)
  line L12 (4.3, 2.3406) -> (4.3, 1.7406)
  line L13 (4.3, 1.7406) -> (4.9, 1.7406)
  line L14 (4.9, 1.7406) -> (4.9, 2.3406)
  line L15 (4.9, 3.8406) -> (4.3, 3.8406)
  line L16 (4.3, 3.8406) -> (4.3, 3.2406)
  line L17 (4.3, 3.2406) -> (4.9, 3.2406)
  line L18 (4.9, 3.2406) -> (4.9, 3.8406)
  line L19 (4.9, -6.1594) -> (4.3, -6.1594)
  line L20 (4.3, -6.1594) -> (4.3, -6.7594)
  line L21 (4.3, -6.7594) -> (4.9, -6.7594)
  line L22 (4.9, -6.7594) -> (4.9, -6.1594)
  line L23 (4.3, -7.6594) -> (4.3, -8.2594)
  line L24 (4.3, -8.2594) -> (4.9, -8.2594)
  line L25 (4.9, -8.2594) -> (4.9, -7.6594)
  line L26 (4.9, -7.6594) -> (4.3, -7.6594)
  line L27 (4.9, -9.1594) -> (4.3, -9.1594)
  line L28 (4.3, -9.1594) -> (4.3, -9.7594)
  line L29 (4.3, -9.7594) -> (4.9, -9.7594)
  line L30 (4.9, -9.7594) -> (4.9, -9.1594)
  line L31 (2.5, 0) -> (5.7, 0)
  line L32 (3.9, 3.8406) -> (3.3, 3.8406)
  line L33 (3.3, 3.8406) -> (3.3, 3.2406)
  line L34 (3.3, 3.2406) -> (3.9, 3.2406)
  line L35 (3.9, 3.2406) -> (3.9, 3.8406)
  line L36 (3.9, 2.3406) -> (3.3, 2.3406)
  line L37 (3.3, 2.3406) -> (3.3, 1.7406)
  line L38 (3.3, 1.7406) -> (3.9, 1.7406)
  line L39 (3.9, 1.7406) -> (3.9, 2.3406)
  line L40 (3.9, 0.8406) -> (3.3, 0.8406)
  line L41 (3.9, 0.2406) -> (3.9, 0.8406)
  line L42 (3.3, 0.2406) -> (3.9, 0.2406)
  line L43 (3.3, 0.8406) -> (3.3, 0.2406)
  point P0 (0, -1)
  point P1 (5.7, 0)
  dimension "d53" = 1.5
  dimension "d54" = 0.6
  dimension "d55" = 0.6
  dimension "d61" = 1.5
  dimension "d63" = 0.2
  dimension "d66" = 10
  dimension "d73" = 1
extrude "擠出7" add sketch "草圖7" along normal blind 0.5 contours A0 L5 A1 L4 L2 L1
extrude "擠出8" add sketch "草圖7" along normal blind 0.2 contours L10 L9 L8 L7 | L14 L13 L12 L11 | L18 L17 L16 L15 | L35 L34 L33 L32 | L39 L38 L37 L36 | L41 L42 L43 L40
sketch "草圖8" plane through (0, 1, 10.35) normal (0, 0, 1) x (1, 0, 0)
  line L0 (5.7, 0) -> (17, 0) projected
  circle A0 centre (15.1042, -1) radius 8
  point P0 (0, -1)
  dimension "d83" = 16
extrude "擠出9" cut sketch "草圖8" along normal through all both and the other way through all
sketch "草圖9" plane through (0, 17.6103, 5) normal (0, 1, 0) x (1, 0, 0)
  line L0 (0, 5) -> (17, 5) projected
  arc A0 (0, 5) -> (17, 5) centre (8.5, 44.0864) ccw
  line L1 (0, 5) -> (17, 5)
  dimension "d86" = 40
extrude "擠出10" cut sketch "草圖9" against normal through all
sketch "草圖10" plane through (0, 0, 12) normal (0, -1, 0) x (1, 0, 0)
  line L0 (0, 0) -> (7.1042, 0) projected
  line L1 (0.7395, 0) -> (1.7395, 0)
  line L2 (1.7395, 0) -> (1.7395, -14.7929)
  line L3 (1.7395, -14.7929) -> (0.7395, -14.7929)
  line L4 (0.7395, -14.7929) -> (0.7395, 0)
  line L5 (2.9107, 0) -> (3.9107, 0)
  line L6 (3.9107, 0) -> (3.9107, -14.7929)
  line L7 (3.9107, -14.7929) -> (2.9107, -14.7929)
  line L8 (2.9107, -14.7929) -> (2.9107, 0)
  line L9 (4.9113, 0) -> (5.9113, 0)
  line L10 (5.9113, 0) -> (5.9113, -14.7929)
  line L11 (5.9113, -14.7929) -> (4.9113, -14.7929)
  line L12 (4.9113, -14.7929) -> (4.9113, 0)
  point P0 (0, -12)
  dimension "d89" = 1
  dimension "d90" = 1
  dimension "d91" = 1
extrude "擠出11" add sketch "草圖10" along normal blind 10
sketch "草圖12" plane through (0.7395, 0, -2.7929) normal (-1, 0, 0) x (0, 0, 1)
  line L0 (14.7929, 0) -> (2.7929, 0) projected
  line L1 (14.7929, 0) -> (2.7929, -10)
  line L2 (14.7929, -10) -> (0, -10) projected
  line L3 (14.7929, 0) -> (14.7929, -10) projected
  line L4 (14.7929, -10) -> (14.7929, 0)
  line L5 (14.7929, -10) -> (2.7929, -10)
extrude "擠出13" cut sketch "草圖12" against normal up to surface (5.1718 mm away)
properties part number "屋2 物2"
